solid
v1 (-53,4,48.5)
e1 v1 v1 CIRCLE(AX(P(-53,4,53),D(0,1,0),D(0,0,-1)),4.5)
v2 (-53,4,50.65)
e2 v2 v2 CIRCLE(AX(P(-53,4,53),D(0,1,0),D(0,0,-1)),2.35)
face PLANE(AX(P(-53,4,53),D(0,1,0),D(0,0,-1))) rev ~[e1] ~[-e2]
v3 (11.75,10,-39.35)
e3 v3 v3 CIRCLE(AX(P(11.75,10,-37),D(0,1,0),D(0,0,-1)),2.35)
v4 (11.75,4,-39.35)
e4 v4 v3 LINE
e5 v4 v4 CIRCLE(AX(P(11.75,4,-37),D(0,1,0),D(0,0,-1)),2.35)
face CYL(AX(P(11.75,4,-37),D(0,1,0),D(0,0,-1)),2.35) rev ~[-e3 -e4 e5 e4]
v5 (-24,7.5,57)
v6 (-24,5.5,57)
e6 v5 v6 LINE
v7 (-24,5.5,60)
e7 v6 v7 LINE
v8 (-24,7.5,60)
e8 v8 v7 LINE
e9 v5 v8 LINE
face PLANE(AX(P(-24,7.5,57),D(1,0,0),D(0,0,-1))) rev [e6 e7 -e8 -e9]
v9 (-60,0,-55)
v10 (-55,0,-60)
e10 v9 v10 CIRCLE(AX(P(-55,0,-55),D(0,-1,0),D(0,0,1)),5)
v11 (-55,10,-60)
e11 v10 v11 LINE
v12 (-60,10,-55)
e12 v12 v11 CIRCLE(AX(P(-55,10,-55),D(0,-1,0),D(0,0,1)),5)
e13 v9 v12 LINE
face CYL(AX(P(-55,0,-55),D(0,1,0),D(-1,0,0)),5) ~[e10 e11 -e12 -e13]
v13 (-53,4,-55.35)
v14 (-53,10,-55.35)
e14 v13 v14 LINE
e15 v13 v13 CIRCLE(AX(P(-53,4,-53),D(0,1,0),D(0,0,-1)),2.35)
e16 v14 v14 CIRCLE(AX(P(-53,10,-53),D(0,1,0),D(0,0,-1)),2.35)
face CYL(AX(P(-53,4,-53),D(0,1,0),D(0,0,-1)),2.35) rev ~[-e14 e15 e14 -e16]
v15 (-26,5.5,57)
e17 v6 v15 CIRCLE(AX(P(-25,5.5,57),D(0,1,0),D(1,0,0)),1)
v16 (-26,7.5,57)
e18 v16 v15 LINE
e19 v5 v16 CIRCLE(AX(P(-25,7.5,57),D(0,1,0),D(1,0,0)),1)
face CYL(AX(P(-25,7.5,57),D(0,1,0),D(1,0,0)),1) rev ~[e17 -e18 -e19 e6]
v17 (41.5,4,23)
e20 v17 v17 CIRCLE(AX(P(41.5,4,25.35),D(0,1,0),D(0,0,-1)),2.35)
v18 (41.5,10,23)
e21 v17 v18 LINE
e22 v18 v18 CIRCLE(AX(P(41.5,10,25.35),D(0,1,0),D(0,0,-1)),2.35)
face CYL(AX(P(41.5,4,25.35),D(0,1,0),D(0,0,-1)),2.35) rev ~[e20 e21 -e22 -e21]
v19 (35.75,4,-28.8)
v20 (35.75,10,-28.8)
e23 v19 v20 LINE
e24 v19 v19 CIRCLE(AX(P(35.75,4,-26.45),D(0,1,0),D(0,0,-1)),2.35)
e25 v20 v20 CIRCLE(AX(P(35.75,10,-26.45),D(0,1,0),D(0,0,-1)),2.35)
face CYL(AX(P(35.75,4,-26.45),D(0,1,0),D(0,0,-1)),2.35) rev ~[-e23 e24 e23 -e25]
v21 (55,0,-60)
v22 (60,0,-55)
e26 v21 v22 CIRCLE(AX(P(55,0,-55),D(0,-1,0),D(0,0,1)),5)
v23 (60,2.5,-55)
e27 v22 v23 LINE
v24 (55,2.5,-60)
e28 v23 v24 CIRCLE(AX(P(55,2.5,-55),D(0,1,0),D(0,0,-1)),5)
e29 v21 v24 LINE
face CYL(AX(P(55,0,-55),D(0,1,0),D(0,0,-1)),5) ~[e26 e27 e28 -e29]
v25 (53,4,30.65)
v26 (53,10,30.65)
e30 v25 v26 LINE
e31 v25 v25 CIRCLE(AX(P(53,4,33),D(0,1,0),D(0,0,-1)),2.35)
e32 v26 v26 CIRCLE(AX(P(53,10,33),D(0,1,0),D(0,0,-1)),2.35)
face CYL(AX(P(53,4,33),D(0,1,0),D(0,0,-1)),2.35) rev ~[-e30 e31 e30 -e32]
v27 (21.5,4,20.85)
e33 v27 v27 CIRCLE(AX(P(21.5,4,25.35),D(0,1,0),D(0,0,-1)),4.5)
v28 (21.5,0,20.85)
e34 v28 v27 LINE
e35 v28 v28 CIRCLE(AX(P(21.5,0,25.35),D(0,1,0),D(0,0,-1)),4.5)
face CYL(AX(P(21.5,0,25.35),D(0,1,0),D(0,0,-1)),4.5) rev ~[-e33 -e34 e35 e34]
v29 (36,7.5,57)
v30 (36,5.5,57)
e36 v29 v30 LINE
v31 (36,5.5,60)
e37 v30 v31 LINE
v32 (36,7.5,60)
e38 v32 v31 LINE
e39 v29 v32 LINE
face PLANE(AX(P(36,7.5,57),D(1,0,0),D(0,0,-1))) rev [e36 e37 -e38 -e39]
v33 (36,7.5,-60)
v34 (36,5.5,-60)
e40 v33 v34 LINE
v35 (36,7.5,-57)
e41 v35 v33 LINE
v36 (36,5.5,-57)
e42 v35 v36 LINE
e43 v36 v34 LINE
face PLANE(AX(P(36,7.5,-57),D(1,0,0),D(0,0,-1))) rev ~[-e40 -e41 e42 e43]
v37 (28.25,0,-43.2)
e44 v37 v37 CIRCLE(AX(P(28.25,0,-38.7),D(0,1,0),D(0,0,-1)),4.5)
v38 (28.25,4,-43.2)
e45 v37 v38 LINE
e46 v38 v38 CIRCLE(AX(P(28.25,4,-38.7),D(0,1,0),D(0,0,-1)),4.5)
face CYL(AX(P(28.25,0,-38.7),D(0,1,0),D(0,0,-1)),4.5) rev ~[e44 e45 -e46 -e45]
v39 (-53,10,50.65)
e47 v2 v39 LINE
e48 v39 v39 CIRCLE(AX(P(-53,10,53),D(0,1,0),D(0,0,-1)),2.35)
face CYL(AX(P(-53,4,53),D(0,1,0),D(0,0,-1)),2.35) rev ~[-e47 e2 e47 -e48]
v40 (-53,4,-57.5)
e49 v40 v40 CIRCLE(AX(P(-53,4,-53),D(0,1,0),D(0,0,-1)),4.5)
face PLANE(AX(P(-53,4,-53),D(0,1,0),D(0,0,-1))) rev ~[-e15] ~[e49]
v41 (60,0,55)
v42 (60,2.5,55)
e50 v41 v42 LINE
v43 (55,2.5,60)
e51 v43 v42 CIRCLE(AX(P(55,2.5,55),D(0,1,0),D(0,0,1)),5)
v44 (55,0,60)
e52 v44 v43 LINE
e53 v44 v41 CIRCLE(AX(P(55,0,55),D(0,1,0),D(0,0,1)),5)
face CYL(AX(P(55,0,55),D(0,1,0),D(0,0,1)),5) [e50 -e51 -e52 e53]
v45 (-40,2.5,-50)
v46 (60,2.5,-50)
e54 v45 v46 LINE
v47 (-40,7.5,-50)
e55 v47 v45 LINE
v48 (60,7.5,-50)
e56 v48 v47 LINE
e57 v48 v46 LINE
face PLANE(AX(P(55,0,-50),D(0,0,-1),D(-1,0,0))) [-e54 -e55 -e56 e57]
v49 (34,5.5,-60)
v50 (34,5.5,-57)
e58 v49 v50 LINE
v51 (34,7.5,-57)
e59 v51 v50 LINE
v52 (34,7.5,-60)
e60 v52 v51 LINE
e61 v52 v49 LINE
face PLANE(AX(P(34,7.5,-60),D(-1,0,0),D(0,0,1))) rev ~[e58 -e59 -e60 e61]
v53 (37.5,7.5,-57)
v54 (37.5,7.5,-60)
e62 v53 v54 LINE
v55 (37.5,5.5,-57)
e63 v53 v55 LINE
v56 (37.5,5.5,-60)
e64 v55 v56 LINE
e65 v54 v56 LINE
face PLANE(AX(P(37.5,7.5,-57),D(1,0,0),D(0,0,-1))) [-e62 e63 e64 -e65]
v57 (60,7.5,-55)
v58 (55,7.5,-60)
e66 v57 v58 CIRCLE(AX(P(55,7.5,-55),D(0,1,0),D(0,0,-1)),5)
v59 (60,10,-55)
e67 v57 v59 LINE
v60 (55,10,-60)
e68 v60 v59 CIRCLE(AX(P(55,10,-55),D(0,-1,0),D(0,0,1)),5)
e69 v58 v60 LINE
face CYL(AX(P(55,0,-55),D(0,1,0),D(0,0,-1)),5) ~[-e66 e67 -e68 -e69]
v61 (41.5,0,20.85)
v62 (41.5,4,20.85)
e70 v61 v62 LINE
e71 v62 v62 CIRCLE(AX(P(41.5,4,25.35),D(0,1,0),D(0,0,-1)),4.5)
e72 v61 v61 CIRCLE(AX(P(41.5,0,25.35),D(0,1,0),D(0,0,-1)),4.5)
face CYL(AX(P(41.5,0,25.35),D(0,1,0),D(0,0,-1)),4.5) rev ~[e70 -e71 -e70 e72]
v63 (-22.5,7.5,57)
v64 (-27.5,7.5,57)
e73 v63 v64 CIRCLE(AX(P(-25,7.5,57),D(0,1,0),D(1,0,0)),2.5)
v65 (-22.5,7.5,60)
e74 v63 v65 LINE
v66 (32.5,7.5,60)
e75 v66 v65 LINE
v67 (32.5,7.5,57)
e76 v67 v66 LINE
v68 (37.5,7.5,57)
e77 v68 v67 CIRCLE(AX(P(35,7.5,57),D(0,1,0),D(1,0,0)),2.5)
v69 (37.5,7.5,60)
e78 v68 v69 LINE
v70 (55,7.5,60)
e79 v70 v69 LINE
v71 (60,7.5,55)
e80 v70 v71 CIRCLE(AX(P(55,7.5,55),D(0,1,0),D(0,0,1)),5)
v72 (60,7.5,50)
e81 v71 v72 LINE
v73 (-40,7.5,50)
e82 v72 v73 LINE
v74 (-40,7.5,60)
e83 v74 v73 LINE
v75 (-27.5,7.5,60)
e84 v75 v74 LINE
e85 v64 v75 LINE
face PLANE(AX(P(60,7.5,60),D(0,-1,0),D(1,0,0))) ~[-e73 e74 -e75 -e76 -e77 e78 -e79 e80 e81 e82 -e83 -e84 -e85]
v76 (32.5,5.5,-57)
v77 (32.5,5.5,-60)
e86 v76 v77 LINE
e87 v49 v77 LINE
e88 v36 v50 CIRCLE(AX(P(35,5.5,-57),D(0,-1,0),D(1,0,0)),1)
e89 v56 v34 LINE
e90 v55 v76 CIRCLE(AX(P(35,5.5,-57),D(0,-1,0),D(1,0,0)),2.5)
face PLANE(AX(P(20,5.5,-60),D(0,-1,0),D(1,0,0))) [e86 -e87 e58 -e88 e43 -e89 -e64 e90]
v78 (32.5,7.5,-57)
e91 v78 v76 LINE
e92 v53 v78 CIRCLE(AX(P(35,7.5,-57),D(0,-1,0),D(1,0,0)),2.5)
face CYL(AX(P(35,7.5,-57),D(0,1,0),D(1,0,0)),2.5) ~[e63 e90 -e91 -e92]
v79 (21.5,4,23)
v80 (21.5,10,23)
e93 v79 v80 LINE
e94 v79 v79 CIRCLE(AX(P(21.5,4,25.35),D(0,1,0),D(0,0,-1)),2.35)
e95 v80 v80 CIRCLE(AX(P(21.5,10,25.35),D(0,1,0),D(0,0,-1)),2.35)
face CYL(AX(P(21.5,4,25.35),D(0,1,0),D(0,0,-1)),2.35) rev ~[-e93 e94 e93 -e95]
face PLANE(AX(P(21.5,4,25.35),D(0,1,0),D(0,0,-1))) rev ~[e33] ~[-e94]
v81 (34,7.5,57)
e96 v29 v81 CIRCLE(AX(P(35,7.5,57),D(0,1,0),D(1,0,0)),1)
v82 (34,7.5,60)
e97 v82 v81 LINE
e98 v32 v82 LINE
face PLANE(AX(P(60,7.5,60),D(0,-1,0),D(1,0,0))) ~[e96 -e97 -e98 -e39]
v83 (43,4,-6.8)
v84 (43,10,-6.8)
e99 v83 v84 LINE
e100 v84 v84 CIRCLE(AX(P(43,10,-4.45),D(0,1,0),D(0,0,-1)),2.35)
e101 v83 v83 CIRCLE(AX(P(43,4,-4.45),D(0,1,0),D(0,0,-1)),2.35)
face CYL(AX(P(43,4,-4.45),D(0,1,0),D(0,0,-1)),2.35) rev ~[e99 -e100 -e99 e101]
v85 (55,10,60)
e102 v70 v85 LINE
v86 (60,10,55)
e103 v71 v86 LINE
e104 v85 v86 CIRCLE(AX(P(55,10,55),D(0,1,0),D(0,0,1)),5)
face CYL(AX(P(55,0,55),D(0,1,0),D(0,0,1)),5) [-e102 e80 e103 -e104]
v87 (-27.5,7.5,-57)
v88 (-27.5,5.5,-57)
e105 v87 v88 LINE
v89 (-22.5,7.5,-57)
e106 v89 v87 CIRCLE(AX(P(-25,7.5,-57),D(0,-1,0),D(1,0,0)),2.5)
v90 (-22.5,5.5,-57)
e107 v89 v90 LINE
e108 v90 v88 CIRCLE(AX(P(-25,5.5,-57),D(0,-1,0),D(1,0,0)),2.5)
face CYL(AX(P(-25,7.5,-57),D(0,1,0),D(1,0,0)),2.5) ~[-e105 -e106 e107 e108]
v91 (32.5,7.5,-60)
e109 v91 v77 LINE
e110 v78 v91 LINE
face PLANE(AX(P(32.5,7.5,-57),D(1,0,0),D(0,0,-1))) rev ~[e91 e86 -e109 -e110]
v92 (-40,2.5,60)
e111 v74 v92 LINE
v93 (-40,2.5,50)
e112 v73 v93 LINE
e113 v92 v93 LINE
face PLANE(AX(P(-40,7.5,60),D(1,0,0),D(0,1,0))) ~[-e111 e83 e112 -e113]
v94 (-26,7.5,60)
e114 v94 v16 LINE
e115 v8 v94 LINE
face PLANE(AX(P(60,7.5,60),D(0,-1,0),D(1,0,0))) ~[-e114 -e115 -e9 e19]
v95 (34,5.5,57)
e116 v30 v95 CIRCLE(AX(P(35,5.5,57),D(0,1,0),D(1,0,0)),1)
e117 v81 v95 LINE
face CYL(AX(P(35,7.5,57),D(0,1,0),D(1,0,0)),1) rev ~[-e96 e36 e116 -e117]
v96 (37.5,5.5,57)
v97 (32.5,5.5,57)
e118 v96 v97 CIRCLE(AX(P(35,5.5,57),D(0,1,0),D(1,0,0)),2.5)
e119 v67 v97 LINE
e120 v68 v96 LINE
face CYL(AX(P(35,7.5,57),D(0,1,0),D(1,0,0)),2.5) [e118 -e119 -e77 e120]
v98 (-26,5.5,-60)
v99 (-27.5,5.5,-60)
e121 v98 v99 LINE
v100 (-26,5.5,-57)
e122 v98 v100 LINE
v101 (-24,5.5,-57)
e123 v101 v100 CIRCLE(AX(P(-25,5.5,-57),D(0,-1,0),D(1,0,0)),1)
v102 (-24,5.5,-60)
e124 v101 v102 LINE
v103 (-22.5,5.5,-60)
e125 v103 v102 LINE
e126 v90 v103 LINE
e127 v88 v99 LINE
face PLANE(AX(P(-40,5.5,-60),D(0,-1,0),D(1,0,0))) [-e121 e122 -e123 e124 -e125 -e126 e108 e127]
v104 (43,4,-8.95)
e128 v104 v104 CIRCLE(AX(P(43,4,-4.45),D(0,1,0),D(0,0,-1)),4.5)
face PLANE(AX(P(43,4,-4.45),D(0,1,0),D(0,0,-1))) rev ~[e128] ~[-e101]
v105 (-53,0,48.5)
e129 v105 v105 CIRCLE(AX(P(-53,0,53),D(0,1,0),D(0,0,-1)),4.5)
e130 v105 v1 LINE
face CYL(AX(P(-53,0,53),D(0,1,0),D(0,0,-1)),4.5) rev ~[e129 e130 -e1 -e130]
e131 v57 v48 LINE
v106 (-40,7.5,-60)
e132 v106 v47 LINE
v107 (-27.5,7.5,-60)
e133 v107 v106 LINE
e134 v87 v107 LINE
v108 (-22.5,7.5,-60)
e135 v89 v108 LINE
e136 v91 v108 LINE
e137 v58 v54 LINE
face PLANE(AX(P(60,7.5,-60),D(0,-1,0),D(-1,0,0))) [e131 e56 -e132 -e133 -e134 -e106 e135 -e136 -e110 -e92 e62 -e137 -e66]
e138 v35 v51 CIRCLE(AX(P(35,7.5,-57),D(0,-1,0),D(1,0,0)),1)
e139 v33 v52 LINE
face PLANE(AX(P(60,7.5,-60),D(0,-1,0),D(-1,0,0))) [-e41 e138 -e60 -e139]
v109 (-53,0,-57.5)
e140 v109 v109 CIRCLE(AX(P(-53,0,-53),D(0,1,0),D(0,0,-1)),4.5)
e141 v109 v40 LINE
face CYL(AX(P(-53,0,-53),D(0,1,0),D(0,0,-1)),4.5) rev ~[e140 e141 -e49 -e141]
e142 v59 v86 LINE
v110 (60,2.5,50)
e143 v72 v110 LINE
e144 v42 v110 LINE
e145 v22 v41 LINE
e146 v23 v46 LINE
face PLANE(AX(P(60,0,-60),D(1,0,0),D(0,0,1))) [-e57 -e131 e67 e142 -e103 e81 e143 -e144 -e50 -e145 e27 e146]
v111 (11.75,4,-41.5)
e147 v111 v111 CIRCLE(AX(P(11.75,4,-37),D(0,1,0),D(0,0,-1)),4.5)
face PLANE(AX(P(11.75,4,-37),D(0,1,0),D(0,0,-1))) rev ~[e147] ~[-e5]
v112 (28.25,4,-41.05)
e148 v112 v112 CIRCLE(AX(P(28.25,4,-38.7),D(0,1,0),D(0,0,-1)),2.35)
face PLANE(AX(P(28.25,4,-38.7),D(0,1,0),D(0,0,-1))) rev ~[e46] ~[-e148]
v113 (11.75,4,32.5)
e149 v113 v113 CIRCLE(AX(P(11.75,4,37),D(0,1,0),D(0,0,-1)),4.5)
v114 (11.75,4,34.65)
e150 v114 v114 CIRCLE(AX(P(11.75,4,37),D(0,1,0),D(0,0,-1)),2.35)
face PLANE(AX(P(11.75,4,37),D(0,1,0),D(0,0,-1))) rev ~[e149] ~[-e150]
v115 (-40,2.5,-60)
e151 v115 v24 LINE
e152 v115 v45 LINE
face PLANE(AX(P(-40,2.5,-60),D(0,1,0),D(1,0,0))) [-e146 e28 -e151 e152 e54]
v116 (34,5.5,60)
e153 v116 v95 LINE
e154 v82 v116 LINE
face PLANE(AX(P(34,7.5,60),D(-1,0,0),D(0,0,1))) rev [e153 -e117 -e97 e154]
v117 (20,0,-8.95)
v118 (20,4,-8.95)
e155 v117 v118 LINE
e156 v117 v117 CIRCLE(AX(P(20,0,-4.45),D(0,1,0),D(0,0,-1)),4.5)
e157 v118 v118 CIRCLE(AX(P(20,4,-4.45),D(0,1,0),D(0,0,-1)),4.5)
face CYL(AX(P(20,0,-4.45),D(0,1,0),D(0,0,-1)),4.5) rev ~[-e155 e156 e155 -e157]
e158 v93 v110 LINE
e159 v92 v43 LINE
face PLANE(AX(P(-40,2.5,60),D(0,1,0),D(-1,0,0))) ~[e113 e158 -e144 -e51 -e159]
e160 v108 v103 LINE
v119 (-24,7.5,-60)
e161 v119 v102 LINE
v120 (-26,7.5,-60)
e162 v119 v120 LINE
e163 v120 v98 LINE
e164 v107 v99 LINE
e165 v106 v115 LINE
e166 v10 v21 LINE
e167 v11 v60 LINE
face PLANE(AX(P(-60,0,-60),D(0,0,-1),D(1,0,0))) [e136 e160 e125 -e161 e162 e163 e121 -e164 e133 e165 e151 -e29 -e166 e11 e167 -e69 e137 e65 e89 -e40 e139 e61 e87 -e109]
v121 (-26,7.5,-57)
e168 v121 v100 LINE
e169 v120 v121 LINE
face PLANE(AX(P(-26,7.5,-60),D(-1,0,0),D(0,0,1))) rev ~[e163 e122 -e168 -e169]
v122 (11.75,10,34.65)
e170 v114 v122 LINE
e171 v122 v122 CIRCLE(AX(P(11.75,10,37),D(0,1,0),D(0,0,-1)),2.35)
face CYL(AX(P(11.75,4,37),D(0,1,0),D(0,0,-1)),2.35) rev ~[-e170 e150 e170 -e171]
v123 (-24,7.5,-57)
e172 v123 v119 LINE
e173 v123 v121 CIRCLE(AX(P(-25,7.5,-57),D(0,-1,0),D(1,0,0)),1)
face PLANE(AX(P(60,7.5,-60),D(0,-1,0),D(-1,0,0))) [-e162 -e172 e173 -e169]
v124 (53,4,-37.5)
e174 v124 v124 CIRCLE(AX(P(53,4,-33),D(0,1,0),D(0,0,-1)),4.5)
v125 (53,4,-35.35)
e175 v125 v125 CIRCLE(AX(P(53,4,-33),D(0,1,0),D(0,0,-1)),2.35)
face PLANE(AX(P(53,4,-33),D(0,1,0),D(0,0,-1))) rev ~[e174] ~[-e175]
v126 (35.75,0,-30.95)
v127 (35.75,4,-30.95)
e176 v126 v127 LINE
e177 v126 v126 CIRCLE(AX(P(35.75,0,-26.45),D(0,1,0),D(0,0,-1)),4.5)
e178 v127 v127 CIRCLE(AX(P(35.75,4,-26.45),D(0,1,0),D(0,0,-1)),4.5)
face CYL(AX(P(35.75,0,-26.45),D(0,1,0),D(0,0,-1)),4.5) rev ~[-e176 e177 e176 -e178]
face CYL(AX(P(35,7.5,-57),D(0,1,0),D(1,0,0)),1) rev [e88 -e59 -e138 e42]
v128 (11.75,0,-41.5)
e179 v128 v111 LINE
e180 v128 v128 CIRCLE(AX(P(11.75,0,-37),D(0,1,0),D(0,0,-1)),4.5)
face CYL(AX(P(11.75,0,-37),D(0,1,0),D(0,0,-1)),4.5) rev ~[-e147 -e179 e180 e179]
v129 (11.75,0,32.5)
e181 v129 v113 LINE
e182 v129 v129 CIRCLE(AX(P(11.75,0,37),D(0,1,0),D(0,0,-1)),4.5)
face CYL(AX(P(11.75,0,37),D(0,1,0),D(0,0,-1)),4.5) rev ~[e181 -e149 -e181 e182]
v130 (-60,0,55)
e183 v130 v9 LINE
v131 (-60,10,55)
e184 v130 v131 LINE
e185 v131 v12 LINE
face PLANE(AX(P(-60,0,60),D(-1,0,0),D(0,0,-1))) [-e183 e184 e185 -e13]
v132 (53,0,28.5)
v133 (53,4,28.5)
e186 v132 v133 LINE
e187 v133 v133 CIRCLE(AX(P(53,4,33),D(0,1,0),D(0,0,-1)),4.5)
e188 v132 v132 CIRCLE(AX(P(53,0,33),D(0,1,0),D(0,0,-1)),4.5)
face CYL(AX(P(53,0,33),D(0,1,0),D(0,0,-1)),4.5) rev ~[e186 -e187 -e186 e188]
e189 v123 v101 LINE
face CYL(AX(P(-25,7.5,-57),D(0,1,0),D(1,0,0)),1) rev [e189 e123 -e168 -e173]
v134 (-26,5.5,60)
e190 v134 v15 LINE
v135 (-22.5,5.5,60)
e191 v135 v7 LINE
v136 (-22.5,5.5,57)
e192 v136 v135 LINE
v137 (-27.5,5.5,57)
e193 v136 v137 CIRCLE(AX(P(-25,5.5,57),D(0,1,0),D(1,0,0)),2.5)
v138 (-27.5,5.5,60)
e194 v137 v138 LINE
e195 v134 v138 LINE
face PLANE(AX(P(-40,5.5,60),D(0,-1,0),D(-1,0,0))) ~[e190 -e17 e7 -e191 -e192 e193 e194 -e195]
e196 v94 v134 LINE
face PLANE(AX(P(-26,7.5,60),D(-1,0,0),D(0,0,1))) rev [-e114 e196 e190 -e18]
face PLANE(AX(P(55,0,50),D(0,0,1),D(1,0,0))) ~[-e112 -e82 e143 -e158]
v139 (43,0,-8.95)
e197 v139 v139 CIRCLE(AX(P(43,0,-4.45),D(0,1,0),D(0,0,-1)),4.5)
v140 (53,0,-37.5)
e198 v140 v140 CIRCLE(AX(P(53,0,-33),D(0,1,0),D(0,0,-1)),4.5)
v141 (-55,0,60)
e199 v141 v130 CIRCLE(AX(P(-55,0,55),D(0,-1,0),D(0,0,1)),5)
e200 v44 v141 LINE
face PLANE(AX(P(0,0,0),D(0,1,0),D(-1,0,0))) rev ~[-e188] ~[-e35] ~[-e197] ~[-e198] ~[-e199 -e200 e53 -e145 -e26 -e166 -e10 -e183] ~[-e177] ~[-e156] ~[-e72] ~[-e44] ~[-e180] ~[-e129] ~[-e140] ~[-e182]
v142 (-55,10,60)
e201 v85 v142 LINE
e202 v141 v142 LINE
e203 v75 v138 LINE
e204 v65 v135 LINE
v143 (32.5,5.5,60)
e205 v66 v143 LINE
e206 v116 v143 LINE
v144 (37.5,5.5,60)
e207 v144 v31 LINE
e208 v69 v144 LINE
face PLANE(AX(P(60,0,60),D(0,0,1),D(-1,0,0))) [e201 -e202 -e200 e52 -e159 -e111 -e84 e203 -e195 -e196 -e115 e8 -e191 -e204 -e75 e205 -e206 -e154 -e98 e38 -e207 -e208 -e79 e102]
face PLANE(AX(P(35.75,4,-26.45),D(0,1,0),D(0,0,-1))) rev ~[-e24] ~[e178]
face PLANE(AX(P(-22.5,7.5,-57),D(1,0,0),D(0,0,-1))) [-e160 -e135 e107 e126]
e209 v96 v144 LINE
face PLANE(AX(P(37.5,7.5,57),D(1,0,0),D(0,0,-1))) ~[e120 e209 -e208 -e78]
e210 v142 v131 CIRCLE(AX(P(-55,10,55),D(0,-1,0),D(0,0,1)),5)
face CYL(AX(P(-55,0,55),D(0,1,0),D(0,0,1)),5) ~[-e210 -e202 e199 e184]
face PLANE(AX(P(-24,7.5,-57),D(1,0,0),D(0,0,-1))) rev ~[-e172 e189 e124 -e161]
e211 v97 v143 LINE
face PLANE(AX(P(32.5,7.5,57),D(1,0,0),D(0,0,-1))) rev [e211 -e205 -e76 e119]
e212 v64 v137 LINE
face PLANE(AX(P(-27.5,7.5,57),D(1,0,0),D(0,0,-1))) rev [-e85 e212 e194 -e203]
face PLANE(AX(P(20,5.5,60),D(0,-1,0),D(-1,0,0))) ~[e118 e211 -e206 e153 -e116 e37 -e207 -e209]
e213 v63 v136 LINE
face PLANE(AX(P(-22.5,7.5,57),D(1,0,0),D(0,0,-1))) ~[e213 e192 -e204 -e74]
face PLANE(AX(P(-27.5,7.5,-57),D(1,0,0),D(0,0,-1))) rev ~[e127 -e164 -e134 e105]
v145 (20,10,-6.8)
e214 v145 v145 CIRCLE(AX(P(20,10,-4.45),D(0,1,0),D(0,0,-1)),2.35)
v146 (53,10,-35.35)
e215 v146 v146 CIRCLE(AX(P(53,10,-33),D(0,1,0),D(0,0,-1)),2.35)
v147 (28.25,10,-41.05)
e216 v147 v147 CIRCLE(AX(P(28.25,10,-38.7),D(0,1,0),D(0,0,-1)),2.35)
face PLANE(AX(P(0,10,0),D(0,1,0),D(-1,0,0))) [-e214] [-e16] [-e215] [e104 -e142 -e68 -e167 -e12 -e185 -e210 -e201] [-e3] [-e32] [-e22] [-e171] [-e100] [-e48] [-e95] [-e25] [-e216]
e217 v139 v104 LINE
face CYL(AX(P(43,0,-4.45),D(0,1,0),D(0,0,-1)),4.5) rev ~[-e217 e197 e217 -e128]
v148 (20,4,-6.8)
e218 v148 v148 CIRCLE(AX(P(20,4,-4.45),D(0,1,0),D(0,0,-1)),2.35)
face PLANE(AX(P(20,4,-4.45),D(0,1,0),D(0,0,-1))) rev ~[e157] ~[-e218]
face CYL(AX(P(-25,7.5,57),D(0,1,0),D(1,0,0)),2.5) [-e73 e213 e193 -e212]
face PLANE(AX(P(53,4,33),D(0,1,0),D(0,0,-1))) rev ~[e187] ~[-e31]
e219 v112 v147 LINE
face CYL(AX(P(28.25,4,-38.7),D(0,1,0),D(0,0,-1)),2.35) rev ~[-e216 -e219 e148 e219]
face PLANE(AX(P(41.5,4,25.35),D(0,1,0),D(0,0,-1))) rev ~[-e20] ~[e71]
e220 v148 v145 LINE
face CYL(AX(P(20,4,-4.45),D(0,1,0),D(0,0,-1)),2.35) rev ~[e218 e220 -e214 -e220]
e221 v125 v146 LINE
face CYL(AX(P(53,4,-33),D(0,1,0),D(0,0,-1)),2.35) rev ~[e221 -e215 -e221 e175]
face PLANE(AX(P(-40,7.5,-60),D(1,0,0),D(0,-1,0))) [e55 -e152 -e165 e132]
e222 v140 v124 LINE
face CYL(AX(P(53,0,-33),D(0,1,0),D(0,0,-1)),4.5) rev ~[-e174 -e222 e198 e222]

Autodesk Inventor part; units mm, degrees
ref_plane "YZ Plane" through (0, 0, 0) normal (1, 0, 0) x (0, 1, 0)
ref_plane "XZ Plane" through (0, 0, 0) normal (0, 1, 0) x (-1, 0, 0)
ref_plane "XY Plane" through (0, 0, 0) normal (0, 0, 1) x (1, 0, 0)
sketch "Sketch1" plane through (0, 0, 0) normal (0, 1, 0) x (-1, 0, 0)
  line L0 (-60, 60) -> (60, 60)
  line L1 (60, 60) -> (60, -60)
  line L2 (60, -60) -> (-60, -60)
  line L3 (-60, -60) -> (-60, 60)
  line L4 (-60, 60) -> (60, -60) construction
  line L5 (60, 60) -> (-60, -60) construction
  point P0 (0, 0)
  dimension "d2" = 120
  dimension "d3" = 120
extrude "Extrusion1" add sketch "Sketch1" along normal blind 10
sketch "Sketch2" plane through (0, 10, 0) normal (0, 1, 0) x (1, 0, 0)
  line L0 (-50, -43) -> (6, -43)
  line L1 (6, -43) -> (6, 43)
  line L2 (6, 43) -> (-50, 43)
  line L3 (-50, 43) -> (-50, -43)
  line L4 (-60, 60) -> (-60, -60) projected
  line L5 (-60, -60) -> (60, -60) projected
  line L6 (16, -52.5) -> (48, -52.5)
  line L7 (48, -52.5) -> (48, 9.45)
  line L8 (48, 9.45) -> (16, 9.45)
  line L9 (16, 9.45) -> (16, -52.5)
  line L10 (23.25, 21.45) -> (40.75, 21.45)
  line L11 (40.75, 21.45) -> (40.75, 44.95)
  line L12 (40.75, 44.95) -> (23.25, 44.95)
  line L13 (23.25, 44.95) -> (23.25, 21.45)
  line L14 (8.5, -43) -> (15, -43)
  line L15 (15, -43) -> (15, -31)
  line L16 (15, -31) -> (8.5, -31)
  line L17 (8.5, -31) -> (8.5, -43)
  line L18 (8.5, 43) -> (15, 43)
  line L19 (15, 43) -> (15, 31)
  line L20 (15, 31) -> (8.5, 31)
  line L21 (8.5, 31) -> (8.5, 43)
  point P0 (0, 0)
  point P1 (32, 21.45)
  point P2 (32, 9.45)
  point P3 (-50, 0)
  point P4 (-60, 0)
  dimension "d4" = 86
  dimension "d5" = 56
  dimension "d6" = 10
  dimension "d8" = 61.95
  dimension "d9" = 32
  dimension "d10" = 10
  dimension "d11" = 7.5
  dimension "d12" = 23.5
  dimension "d13" = 17.5
  dimension "d14" = 12
  dimension "d40" = 6.5
  dimension "d41" = 12
  dimension "d42" = 6.5
  dimension "d43" = 12
  dimension "d44" = 1
fillet "Fillet1" radius 5 4 edges at (60, 5, -60) (60, 5, 60) (-60, 5, -60) (-60, 5, 60)
sketch "Sketch3" plane through (0, 0, 0) normal (0, -1, 0) x (1, 0, 0)
  circle A0 centre (21.5, 25.35) radius 2.675 projected
  circle A1 centre (41.5, 25.35) radius 2.675 projected
  circle A2 centre (28.25, -38.7) radius 2.675 projected
  circle A3 centre (35.75, -26.45) radius 2.675 projected
  circle A4 centre (43, -4.45) radius 2.675 projected
  circle A5 centre (20, -4.45) radius 2.675 projected
  circle A6 centre (53, 33) radius 2.675 projected
  circle A7 centre (53, -33) radius 2.675 projected
  circle A8 centre (-53, 53) radius 2.675 projected
  circle A9 centre (-53, -53) radius 2.675 projected
  circle A10 centre (11.75, 37) radius 2.675 projected
  circle A11 centre (11.75, -37) radius 2.675 projected
  point P0 (0, 0)
hole "Hole1" at (41.5, 0, 25.35) at (43, 0, -4.45) at (35.75, 0, -26.45) at (28.25, 0, -38.7) at (20, 0, -4.45) at (21.5, 0, 25.35) at (53, 0, 33) at (-53, 0, 53) at (-53, 0, -53) at (53, 0, -33) at (11.75, 0, 37) at (11.75, 0, -37) direction (0, 1, 0) diameter 4.7 end through all counterbore diameter 9 counterbore depth 4
sketch "Sketch4" plane through (55, 0, -60) normal (0, 0, -1) x (-1, 0, 0)
  line L0 (-5, 10) -> (-5, 0) projected
  line L1 (-5, 7.5) -> (95, 7.5)
  line L2 (95, 7.5) -> (95, 2.5)
  line L3 (95, 2.5) -> (-5, 2.5)
  line L4 (-5, 2.5) -> (-5, 7.5)
  point P0 (55, 0)
  point P1 (-5, 5)
  point P2 (-5, 5)
  point P3 (-5, 2.5)
  dimension "d23" = 5
  dimension "d24" = 100
extrude "Extrusion2" cut sketch "Sketch4" against normal blind 10
sketch "Sketch5" plane through (-40, 7.5, -60) normal (0, -1, 0) x (1, 0, 0)
  arc A0 (17.5, 3) -> (12.5, 3) centre (15, 3) ccw
  line L0 (17.5, 3) -> (17.5, 0)
  line L1 (12.5, 3) -> (12.5, 0)
  line L2 (14, 0) -> (14, 3)
  arc A1 (16, 3) -> (14, 3) centre (15, 3) ccw
  line L3 (16, 3) -> (16, 0)
  line L4 (17.5, 0) -> (16, 0)
  line L5 (95, 0) -> (0, 0) projected
  line L6 (14, 0) -> (12.5, 0)
  line L7 (100, 10) -> (100, 5) projected
  point P0 (40, 60)
  dimension "d27" = 5
  dimension "d31" = 1.5
  dimension "d34" = 3
  dimension "d35" = 85
  dimension "d36" = 5
extrude "Extrusion3" add sketch "Sketch5" along normal blind 2 contours L0 L4 L3 A1 L2 L5 L1 A0
pattern_linear "Rectangular Pattern1" count 2 spacing 60 along (1, 0, 0) of "Extrusion3"
ref_plane "Work Plane1" through (55, 0, 0) normal (0, 0, -1) x (-1, 0, 0)
mirror "Mirror1" about plane through (55, 0, 0) normal (0, 0, -1) of "Extrusion2", "Extrusion3", "Rectangular Pattern1"
properties part number "PCB_Housing_01_003"
